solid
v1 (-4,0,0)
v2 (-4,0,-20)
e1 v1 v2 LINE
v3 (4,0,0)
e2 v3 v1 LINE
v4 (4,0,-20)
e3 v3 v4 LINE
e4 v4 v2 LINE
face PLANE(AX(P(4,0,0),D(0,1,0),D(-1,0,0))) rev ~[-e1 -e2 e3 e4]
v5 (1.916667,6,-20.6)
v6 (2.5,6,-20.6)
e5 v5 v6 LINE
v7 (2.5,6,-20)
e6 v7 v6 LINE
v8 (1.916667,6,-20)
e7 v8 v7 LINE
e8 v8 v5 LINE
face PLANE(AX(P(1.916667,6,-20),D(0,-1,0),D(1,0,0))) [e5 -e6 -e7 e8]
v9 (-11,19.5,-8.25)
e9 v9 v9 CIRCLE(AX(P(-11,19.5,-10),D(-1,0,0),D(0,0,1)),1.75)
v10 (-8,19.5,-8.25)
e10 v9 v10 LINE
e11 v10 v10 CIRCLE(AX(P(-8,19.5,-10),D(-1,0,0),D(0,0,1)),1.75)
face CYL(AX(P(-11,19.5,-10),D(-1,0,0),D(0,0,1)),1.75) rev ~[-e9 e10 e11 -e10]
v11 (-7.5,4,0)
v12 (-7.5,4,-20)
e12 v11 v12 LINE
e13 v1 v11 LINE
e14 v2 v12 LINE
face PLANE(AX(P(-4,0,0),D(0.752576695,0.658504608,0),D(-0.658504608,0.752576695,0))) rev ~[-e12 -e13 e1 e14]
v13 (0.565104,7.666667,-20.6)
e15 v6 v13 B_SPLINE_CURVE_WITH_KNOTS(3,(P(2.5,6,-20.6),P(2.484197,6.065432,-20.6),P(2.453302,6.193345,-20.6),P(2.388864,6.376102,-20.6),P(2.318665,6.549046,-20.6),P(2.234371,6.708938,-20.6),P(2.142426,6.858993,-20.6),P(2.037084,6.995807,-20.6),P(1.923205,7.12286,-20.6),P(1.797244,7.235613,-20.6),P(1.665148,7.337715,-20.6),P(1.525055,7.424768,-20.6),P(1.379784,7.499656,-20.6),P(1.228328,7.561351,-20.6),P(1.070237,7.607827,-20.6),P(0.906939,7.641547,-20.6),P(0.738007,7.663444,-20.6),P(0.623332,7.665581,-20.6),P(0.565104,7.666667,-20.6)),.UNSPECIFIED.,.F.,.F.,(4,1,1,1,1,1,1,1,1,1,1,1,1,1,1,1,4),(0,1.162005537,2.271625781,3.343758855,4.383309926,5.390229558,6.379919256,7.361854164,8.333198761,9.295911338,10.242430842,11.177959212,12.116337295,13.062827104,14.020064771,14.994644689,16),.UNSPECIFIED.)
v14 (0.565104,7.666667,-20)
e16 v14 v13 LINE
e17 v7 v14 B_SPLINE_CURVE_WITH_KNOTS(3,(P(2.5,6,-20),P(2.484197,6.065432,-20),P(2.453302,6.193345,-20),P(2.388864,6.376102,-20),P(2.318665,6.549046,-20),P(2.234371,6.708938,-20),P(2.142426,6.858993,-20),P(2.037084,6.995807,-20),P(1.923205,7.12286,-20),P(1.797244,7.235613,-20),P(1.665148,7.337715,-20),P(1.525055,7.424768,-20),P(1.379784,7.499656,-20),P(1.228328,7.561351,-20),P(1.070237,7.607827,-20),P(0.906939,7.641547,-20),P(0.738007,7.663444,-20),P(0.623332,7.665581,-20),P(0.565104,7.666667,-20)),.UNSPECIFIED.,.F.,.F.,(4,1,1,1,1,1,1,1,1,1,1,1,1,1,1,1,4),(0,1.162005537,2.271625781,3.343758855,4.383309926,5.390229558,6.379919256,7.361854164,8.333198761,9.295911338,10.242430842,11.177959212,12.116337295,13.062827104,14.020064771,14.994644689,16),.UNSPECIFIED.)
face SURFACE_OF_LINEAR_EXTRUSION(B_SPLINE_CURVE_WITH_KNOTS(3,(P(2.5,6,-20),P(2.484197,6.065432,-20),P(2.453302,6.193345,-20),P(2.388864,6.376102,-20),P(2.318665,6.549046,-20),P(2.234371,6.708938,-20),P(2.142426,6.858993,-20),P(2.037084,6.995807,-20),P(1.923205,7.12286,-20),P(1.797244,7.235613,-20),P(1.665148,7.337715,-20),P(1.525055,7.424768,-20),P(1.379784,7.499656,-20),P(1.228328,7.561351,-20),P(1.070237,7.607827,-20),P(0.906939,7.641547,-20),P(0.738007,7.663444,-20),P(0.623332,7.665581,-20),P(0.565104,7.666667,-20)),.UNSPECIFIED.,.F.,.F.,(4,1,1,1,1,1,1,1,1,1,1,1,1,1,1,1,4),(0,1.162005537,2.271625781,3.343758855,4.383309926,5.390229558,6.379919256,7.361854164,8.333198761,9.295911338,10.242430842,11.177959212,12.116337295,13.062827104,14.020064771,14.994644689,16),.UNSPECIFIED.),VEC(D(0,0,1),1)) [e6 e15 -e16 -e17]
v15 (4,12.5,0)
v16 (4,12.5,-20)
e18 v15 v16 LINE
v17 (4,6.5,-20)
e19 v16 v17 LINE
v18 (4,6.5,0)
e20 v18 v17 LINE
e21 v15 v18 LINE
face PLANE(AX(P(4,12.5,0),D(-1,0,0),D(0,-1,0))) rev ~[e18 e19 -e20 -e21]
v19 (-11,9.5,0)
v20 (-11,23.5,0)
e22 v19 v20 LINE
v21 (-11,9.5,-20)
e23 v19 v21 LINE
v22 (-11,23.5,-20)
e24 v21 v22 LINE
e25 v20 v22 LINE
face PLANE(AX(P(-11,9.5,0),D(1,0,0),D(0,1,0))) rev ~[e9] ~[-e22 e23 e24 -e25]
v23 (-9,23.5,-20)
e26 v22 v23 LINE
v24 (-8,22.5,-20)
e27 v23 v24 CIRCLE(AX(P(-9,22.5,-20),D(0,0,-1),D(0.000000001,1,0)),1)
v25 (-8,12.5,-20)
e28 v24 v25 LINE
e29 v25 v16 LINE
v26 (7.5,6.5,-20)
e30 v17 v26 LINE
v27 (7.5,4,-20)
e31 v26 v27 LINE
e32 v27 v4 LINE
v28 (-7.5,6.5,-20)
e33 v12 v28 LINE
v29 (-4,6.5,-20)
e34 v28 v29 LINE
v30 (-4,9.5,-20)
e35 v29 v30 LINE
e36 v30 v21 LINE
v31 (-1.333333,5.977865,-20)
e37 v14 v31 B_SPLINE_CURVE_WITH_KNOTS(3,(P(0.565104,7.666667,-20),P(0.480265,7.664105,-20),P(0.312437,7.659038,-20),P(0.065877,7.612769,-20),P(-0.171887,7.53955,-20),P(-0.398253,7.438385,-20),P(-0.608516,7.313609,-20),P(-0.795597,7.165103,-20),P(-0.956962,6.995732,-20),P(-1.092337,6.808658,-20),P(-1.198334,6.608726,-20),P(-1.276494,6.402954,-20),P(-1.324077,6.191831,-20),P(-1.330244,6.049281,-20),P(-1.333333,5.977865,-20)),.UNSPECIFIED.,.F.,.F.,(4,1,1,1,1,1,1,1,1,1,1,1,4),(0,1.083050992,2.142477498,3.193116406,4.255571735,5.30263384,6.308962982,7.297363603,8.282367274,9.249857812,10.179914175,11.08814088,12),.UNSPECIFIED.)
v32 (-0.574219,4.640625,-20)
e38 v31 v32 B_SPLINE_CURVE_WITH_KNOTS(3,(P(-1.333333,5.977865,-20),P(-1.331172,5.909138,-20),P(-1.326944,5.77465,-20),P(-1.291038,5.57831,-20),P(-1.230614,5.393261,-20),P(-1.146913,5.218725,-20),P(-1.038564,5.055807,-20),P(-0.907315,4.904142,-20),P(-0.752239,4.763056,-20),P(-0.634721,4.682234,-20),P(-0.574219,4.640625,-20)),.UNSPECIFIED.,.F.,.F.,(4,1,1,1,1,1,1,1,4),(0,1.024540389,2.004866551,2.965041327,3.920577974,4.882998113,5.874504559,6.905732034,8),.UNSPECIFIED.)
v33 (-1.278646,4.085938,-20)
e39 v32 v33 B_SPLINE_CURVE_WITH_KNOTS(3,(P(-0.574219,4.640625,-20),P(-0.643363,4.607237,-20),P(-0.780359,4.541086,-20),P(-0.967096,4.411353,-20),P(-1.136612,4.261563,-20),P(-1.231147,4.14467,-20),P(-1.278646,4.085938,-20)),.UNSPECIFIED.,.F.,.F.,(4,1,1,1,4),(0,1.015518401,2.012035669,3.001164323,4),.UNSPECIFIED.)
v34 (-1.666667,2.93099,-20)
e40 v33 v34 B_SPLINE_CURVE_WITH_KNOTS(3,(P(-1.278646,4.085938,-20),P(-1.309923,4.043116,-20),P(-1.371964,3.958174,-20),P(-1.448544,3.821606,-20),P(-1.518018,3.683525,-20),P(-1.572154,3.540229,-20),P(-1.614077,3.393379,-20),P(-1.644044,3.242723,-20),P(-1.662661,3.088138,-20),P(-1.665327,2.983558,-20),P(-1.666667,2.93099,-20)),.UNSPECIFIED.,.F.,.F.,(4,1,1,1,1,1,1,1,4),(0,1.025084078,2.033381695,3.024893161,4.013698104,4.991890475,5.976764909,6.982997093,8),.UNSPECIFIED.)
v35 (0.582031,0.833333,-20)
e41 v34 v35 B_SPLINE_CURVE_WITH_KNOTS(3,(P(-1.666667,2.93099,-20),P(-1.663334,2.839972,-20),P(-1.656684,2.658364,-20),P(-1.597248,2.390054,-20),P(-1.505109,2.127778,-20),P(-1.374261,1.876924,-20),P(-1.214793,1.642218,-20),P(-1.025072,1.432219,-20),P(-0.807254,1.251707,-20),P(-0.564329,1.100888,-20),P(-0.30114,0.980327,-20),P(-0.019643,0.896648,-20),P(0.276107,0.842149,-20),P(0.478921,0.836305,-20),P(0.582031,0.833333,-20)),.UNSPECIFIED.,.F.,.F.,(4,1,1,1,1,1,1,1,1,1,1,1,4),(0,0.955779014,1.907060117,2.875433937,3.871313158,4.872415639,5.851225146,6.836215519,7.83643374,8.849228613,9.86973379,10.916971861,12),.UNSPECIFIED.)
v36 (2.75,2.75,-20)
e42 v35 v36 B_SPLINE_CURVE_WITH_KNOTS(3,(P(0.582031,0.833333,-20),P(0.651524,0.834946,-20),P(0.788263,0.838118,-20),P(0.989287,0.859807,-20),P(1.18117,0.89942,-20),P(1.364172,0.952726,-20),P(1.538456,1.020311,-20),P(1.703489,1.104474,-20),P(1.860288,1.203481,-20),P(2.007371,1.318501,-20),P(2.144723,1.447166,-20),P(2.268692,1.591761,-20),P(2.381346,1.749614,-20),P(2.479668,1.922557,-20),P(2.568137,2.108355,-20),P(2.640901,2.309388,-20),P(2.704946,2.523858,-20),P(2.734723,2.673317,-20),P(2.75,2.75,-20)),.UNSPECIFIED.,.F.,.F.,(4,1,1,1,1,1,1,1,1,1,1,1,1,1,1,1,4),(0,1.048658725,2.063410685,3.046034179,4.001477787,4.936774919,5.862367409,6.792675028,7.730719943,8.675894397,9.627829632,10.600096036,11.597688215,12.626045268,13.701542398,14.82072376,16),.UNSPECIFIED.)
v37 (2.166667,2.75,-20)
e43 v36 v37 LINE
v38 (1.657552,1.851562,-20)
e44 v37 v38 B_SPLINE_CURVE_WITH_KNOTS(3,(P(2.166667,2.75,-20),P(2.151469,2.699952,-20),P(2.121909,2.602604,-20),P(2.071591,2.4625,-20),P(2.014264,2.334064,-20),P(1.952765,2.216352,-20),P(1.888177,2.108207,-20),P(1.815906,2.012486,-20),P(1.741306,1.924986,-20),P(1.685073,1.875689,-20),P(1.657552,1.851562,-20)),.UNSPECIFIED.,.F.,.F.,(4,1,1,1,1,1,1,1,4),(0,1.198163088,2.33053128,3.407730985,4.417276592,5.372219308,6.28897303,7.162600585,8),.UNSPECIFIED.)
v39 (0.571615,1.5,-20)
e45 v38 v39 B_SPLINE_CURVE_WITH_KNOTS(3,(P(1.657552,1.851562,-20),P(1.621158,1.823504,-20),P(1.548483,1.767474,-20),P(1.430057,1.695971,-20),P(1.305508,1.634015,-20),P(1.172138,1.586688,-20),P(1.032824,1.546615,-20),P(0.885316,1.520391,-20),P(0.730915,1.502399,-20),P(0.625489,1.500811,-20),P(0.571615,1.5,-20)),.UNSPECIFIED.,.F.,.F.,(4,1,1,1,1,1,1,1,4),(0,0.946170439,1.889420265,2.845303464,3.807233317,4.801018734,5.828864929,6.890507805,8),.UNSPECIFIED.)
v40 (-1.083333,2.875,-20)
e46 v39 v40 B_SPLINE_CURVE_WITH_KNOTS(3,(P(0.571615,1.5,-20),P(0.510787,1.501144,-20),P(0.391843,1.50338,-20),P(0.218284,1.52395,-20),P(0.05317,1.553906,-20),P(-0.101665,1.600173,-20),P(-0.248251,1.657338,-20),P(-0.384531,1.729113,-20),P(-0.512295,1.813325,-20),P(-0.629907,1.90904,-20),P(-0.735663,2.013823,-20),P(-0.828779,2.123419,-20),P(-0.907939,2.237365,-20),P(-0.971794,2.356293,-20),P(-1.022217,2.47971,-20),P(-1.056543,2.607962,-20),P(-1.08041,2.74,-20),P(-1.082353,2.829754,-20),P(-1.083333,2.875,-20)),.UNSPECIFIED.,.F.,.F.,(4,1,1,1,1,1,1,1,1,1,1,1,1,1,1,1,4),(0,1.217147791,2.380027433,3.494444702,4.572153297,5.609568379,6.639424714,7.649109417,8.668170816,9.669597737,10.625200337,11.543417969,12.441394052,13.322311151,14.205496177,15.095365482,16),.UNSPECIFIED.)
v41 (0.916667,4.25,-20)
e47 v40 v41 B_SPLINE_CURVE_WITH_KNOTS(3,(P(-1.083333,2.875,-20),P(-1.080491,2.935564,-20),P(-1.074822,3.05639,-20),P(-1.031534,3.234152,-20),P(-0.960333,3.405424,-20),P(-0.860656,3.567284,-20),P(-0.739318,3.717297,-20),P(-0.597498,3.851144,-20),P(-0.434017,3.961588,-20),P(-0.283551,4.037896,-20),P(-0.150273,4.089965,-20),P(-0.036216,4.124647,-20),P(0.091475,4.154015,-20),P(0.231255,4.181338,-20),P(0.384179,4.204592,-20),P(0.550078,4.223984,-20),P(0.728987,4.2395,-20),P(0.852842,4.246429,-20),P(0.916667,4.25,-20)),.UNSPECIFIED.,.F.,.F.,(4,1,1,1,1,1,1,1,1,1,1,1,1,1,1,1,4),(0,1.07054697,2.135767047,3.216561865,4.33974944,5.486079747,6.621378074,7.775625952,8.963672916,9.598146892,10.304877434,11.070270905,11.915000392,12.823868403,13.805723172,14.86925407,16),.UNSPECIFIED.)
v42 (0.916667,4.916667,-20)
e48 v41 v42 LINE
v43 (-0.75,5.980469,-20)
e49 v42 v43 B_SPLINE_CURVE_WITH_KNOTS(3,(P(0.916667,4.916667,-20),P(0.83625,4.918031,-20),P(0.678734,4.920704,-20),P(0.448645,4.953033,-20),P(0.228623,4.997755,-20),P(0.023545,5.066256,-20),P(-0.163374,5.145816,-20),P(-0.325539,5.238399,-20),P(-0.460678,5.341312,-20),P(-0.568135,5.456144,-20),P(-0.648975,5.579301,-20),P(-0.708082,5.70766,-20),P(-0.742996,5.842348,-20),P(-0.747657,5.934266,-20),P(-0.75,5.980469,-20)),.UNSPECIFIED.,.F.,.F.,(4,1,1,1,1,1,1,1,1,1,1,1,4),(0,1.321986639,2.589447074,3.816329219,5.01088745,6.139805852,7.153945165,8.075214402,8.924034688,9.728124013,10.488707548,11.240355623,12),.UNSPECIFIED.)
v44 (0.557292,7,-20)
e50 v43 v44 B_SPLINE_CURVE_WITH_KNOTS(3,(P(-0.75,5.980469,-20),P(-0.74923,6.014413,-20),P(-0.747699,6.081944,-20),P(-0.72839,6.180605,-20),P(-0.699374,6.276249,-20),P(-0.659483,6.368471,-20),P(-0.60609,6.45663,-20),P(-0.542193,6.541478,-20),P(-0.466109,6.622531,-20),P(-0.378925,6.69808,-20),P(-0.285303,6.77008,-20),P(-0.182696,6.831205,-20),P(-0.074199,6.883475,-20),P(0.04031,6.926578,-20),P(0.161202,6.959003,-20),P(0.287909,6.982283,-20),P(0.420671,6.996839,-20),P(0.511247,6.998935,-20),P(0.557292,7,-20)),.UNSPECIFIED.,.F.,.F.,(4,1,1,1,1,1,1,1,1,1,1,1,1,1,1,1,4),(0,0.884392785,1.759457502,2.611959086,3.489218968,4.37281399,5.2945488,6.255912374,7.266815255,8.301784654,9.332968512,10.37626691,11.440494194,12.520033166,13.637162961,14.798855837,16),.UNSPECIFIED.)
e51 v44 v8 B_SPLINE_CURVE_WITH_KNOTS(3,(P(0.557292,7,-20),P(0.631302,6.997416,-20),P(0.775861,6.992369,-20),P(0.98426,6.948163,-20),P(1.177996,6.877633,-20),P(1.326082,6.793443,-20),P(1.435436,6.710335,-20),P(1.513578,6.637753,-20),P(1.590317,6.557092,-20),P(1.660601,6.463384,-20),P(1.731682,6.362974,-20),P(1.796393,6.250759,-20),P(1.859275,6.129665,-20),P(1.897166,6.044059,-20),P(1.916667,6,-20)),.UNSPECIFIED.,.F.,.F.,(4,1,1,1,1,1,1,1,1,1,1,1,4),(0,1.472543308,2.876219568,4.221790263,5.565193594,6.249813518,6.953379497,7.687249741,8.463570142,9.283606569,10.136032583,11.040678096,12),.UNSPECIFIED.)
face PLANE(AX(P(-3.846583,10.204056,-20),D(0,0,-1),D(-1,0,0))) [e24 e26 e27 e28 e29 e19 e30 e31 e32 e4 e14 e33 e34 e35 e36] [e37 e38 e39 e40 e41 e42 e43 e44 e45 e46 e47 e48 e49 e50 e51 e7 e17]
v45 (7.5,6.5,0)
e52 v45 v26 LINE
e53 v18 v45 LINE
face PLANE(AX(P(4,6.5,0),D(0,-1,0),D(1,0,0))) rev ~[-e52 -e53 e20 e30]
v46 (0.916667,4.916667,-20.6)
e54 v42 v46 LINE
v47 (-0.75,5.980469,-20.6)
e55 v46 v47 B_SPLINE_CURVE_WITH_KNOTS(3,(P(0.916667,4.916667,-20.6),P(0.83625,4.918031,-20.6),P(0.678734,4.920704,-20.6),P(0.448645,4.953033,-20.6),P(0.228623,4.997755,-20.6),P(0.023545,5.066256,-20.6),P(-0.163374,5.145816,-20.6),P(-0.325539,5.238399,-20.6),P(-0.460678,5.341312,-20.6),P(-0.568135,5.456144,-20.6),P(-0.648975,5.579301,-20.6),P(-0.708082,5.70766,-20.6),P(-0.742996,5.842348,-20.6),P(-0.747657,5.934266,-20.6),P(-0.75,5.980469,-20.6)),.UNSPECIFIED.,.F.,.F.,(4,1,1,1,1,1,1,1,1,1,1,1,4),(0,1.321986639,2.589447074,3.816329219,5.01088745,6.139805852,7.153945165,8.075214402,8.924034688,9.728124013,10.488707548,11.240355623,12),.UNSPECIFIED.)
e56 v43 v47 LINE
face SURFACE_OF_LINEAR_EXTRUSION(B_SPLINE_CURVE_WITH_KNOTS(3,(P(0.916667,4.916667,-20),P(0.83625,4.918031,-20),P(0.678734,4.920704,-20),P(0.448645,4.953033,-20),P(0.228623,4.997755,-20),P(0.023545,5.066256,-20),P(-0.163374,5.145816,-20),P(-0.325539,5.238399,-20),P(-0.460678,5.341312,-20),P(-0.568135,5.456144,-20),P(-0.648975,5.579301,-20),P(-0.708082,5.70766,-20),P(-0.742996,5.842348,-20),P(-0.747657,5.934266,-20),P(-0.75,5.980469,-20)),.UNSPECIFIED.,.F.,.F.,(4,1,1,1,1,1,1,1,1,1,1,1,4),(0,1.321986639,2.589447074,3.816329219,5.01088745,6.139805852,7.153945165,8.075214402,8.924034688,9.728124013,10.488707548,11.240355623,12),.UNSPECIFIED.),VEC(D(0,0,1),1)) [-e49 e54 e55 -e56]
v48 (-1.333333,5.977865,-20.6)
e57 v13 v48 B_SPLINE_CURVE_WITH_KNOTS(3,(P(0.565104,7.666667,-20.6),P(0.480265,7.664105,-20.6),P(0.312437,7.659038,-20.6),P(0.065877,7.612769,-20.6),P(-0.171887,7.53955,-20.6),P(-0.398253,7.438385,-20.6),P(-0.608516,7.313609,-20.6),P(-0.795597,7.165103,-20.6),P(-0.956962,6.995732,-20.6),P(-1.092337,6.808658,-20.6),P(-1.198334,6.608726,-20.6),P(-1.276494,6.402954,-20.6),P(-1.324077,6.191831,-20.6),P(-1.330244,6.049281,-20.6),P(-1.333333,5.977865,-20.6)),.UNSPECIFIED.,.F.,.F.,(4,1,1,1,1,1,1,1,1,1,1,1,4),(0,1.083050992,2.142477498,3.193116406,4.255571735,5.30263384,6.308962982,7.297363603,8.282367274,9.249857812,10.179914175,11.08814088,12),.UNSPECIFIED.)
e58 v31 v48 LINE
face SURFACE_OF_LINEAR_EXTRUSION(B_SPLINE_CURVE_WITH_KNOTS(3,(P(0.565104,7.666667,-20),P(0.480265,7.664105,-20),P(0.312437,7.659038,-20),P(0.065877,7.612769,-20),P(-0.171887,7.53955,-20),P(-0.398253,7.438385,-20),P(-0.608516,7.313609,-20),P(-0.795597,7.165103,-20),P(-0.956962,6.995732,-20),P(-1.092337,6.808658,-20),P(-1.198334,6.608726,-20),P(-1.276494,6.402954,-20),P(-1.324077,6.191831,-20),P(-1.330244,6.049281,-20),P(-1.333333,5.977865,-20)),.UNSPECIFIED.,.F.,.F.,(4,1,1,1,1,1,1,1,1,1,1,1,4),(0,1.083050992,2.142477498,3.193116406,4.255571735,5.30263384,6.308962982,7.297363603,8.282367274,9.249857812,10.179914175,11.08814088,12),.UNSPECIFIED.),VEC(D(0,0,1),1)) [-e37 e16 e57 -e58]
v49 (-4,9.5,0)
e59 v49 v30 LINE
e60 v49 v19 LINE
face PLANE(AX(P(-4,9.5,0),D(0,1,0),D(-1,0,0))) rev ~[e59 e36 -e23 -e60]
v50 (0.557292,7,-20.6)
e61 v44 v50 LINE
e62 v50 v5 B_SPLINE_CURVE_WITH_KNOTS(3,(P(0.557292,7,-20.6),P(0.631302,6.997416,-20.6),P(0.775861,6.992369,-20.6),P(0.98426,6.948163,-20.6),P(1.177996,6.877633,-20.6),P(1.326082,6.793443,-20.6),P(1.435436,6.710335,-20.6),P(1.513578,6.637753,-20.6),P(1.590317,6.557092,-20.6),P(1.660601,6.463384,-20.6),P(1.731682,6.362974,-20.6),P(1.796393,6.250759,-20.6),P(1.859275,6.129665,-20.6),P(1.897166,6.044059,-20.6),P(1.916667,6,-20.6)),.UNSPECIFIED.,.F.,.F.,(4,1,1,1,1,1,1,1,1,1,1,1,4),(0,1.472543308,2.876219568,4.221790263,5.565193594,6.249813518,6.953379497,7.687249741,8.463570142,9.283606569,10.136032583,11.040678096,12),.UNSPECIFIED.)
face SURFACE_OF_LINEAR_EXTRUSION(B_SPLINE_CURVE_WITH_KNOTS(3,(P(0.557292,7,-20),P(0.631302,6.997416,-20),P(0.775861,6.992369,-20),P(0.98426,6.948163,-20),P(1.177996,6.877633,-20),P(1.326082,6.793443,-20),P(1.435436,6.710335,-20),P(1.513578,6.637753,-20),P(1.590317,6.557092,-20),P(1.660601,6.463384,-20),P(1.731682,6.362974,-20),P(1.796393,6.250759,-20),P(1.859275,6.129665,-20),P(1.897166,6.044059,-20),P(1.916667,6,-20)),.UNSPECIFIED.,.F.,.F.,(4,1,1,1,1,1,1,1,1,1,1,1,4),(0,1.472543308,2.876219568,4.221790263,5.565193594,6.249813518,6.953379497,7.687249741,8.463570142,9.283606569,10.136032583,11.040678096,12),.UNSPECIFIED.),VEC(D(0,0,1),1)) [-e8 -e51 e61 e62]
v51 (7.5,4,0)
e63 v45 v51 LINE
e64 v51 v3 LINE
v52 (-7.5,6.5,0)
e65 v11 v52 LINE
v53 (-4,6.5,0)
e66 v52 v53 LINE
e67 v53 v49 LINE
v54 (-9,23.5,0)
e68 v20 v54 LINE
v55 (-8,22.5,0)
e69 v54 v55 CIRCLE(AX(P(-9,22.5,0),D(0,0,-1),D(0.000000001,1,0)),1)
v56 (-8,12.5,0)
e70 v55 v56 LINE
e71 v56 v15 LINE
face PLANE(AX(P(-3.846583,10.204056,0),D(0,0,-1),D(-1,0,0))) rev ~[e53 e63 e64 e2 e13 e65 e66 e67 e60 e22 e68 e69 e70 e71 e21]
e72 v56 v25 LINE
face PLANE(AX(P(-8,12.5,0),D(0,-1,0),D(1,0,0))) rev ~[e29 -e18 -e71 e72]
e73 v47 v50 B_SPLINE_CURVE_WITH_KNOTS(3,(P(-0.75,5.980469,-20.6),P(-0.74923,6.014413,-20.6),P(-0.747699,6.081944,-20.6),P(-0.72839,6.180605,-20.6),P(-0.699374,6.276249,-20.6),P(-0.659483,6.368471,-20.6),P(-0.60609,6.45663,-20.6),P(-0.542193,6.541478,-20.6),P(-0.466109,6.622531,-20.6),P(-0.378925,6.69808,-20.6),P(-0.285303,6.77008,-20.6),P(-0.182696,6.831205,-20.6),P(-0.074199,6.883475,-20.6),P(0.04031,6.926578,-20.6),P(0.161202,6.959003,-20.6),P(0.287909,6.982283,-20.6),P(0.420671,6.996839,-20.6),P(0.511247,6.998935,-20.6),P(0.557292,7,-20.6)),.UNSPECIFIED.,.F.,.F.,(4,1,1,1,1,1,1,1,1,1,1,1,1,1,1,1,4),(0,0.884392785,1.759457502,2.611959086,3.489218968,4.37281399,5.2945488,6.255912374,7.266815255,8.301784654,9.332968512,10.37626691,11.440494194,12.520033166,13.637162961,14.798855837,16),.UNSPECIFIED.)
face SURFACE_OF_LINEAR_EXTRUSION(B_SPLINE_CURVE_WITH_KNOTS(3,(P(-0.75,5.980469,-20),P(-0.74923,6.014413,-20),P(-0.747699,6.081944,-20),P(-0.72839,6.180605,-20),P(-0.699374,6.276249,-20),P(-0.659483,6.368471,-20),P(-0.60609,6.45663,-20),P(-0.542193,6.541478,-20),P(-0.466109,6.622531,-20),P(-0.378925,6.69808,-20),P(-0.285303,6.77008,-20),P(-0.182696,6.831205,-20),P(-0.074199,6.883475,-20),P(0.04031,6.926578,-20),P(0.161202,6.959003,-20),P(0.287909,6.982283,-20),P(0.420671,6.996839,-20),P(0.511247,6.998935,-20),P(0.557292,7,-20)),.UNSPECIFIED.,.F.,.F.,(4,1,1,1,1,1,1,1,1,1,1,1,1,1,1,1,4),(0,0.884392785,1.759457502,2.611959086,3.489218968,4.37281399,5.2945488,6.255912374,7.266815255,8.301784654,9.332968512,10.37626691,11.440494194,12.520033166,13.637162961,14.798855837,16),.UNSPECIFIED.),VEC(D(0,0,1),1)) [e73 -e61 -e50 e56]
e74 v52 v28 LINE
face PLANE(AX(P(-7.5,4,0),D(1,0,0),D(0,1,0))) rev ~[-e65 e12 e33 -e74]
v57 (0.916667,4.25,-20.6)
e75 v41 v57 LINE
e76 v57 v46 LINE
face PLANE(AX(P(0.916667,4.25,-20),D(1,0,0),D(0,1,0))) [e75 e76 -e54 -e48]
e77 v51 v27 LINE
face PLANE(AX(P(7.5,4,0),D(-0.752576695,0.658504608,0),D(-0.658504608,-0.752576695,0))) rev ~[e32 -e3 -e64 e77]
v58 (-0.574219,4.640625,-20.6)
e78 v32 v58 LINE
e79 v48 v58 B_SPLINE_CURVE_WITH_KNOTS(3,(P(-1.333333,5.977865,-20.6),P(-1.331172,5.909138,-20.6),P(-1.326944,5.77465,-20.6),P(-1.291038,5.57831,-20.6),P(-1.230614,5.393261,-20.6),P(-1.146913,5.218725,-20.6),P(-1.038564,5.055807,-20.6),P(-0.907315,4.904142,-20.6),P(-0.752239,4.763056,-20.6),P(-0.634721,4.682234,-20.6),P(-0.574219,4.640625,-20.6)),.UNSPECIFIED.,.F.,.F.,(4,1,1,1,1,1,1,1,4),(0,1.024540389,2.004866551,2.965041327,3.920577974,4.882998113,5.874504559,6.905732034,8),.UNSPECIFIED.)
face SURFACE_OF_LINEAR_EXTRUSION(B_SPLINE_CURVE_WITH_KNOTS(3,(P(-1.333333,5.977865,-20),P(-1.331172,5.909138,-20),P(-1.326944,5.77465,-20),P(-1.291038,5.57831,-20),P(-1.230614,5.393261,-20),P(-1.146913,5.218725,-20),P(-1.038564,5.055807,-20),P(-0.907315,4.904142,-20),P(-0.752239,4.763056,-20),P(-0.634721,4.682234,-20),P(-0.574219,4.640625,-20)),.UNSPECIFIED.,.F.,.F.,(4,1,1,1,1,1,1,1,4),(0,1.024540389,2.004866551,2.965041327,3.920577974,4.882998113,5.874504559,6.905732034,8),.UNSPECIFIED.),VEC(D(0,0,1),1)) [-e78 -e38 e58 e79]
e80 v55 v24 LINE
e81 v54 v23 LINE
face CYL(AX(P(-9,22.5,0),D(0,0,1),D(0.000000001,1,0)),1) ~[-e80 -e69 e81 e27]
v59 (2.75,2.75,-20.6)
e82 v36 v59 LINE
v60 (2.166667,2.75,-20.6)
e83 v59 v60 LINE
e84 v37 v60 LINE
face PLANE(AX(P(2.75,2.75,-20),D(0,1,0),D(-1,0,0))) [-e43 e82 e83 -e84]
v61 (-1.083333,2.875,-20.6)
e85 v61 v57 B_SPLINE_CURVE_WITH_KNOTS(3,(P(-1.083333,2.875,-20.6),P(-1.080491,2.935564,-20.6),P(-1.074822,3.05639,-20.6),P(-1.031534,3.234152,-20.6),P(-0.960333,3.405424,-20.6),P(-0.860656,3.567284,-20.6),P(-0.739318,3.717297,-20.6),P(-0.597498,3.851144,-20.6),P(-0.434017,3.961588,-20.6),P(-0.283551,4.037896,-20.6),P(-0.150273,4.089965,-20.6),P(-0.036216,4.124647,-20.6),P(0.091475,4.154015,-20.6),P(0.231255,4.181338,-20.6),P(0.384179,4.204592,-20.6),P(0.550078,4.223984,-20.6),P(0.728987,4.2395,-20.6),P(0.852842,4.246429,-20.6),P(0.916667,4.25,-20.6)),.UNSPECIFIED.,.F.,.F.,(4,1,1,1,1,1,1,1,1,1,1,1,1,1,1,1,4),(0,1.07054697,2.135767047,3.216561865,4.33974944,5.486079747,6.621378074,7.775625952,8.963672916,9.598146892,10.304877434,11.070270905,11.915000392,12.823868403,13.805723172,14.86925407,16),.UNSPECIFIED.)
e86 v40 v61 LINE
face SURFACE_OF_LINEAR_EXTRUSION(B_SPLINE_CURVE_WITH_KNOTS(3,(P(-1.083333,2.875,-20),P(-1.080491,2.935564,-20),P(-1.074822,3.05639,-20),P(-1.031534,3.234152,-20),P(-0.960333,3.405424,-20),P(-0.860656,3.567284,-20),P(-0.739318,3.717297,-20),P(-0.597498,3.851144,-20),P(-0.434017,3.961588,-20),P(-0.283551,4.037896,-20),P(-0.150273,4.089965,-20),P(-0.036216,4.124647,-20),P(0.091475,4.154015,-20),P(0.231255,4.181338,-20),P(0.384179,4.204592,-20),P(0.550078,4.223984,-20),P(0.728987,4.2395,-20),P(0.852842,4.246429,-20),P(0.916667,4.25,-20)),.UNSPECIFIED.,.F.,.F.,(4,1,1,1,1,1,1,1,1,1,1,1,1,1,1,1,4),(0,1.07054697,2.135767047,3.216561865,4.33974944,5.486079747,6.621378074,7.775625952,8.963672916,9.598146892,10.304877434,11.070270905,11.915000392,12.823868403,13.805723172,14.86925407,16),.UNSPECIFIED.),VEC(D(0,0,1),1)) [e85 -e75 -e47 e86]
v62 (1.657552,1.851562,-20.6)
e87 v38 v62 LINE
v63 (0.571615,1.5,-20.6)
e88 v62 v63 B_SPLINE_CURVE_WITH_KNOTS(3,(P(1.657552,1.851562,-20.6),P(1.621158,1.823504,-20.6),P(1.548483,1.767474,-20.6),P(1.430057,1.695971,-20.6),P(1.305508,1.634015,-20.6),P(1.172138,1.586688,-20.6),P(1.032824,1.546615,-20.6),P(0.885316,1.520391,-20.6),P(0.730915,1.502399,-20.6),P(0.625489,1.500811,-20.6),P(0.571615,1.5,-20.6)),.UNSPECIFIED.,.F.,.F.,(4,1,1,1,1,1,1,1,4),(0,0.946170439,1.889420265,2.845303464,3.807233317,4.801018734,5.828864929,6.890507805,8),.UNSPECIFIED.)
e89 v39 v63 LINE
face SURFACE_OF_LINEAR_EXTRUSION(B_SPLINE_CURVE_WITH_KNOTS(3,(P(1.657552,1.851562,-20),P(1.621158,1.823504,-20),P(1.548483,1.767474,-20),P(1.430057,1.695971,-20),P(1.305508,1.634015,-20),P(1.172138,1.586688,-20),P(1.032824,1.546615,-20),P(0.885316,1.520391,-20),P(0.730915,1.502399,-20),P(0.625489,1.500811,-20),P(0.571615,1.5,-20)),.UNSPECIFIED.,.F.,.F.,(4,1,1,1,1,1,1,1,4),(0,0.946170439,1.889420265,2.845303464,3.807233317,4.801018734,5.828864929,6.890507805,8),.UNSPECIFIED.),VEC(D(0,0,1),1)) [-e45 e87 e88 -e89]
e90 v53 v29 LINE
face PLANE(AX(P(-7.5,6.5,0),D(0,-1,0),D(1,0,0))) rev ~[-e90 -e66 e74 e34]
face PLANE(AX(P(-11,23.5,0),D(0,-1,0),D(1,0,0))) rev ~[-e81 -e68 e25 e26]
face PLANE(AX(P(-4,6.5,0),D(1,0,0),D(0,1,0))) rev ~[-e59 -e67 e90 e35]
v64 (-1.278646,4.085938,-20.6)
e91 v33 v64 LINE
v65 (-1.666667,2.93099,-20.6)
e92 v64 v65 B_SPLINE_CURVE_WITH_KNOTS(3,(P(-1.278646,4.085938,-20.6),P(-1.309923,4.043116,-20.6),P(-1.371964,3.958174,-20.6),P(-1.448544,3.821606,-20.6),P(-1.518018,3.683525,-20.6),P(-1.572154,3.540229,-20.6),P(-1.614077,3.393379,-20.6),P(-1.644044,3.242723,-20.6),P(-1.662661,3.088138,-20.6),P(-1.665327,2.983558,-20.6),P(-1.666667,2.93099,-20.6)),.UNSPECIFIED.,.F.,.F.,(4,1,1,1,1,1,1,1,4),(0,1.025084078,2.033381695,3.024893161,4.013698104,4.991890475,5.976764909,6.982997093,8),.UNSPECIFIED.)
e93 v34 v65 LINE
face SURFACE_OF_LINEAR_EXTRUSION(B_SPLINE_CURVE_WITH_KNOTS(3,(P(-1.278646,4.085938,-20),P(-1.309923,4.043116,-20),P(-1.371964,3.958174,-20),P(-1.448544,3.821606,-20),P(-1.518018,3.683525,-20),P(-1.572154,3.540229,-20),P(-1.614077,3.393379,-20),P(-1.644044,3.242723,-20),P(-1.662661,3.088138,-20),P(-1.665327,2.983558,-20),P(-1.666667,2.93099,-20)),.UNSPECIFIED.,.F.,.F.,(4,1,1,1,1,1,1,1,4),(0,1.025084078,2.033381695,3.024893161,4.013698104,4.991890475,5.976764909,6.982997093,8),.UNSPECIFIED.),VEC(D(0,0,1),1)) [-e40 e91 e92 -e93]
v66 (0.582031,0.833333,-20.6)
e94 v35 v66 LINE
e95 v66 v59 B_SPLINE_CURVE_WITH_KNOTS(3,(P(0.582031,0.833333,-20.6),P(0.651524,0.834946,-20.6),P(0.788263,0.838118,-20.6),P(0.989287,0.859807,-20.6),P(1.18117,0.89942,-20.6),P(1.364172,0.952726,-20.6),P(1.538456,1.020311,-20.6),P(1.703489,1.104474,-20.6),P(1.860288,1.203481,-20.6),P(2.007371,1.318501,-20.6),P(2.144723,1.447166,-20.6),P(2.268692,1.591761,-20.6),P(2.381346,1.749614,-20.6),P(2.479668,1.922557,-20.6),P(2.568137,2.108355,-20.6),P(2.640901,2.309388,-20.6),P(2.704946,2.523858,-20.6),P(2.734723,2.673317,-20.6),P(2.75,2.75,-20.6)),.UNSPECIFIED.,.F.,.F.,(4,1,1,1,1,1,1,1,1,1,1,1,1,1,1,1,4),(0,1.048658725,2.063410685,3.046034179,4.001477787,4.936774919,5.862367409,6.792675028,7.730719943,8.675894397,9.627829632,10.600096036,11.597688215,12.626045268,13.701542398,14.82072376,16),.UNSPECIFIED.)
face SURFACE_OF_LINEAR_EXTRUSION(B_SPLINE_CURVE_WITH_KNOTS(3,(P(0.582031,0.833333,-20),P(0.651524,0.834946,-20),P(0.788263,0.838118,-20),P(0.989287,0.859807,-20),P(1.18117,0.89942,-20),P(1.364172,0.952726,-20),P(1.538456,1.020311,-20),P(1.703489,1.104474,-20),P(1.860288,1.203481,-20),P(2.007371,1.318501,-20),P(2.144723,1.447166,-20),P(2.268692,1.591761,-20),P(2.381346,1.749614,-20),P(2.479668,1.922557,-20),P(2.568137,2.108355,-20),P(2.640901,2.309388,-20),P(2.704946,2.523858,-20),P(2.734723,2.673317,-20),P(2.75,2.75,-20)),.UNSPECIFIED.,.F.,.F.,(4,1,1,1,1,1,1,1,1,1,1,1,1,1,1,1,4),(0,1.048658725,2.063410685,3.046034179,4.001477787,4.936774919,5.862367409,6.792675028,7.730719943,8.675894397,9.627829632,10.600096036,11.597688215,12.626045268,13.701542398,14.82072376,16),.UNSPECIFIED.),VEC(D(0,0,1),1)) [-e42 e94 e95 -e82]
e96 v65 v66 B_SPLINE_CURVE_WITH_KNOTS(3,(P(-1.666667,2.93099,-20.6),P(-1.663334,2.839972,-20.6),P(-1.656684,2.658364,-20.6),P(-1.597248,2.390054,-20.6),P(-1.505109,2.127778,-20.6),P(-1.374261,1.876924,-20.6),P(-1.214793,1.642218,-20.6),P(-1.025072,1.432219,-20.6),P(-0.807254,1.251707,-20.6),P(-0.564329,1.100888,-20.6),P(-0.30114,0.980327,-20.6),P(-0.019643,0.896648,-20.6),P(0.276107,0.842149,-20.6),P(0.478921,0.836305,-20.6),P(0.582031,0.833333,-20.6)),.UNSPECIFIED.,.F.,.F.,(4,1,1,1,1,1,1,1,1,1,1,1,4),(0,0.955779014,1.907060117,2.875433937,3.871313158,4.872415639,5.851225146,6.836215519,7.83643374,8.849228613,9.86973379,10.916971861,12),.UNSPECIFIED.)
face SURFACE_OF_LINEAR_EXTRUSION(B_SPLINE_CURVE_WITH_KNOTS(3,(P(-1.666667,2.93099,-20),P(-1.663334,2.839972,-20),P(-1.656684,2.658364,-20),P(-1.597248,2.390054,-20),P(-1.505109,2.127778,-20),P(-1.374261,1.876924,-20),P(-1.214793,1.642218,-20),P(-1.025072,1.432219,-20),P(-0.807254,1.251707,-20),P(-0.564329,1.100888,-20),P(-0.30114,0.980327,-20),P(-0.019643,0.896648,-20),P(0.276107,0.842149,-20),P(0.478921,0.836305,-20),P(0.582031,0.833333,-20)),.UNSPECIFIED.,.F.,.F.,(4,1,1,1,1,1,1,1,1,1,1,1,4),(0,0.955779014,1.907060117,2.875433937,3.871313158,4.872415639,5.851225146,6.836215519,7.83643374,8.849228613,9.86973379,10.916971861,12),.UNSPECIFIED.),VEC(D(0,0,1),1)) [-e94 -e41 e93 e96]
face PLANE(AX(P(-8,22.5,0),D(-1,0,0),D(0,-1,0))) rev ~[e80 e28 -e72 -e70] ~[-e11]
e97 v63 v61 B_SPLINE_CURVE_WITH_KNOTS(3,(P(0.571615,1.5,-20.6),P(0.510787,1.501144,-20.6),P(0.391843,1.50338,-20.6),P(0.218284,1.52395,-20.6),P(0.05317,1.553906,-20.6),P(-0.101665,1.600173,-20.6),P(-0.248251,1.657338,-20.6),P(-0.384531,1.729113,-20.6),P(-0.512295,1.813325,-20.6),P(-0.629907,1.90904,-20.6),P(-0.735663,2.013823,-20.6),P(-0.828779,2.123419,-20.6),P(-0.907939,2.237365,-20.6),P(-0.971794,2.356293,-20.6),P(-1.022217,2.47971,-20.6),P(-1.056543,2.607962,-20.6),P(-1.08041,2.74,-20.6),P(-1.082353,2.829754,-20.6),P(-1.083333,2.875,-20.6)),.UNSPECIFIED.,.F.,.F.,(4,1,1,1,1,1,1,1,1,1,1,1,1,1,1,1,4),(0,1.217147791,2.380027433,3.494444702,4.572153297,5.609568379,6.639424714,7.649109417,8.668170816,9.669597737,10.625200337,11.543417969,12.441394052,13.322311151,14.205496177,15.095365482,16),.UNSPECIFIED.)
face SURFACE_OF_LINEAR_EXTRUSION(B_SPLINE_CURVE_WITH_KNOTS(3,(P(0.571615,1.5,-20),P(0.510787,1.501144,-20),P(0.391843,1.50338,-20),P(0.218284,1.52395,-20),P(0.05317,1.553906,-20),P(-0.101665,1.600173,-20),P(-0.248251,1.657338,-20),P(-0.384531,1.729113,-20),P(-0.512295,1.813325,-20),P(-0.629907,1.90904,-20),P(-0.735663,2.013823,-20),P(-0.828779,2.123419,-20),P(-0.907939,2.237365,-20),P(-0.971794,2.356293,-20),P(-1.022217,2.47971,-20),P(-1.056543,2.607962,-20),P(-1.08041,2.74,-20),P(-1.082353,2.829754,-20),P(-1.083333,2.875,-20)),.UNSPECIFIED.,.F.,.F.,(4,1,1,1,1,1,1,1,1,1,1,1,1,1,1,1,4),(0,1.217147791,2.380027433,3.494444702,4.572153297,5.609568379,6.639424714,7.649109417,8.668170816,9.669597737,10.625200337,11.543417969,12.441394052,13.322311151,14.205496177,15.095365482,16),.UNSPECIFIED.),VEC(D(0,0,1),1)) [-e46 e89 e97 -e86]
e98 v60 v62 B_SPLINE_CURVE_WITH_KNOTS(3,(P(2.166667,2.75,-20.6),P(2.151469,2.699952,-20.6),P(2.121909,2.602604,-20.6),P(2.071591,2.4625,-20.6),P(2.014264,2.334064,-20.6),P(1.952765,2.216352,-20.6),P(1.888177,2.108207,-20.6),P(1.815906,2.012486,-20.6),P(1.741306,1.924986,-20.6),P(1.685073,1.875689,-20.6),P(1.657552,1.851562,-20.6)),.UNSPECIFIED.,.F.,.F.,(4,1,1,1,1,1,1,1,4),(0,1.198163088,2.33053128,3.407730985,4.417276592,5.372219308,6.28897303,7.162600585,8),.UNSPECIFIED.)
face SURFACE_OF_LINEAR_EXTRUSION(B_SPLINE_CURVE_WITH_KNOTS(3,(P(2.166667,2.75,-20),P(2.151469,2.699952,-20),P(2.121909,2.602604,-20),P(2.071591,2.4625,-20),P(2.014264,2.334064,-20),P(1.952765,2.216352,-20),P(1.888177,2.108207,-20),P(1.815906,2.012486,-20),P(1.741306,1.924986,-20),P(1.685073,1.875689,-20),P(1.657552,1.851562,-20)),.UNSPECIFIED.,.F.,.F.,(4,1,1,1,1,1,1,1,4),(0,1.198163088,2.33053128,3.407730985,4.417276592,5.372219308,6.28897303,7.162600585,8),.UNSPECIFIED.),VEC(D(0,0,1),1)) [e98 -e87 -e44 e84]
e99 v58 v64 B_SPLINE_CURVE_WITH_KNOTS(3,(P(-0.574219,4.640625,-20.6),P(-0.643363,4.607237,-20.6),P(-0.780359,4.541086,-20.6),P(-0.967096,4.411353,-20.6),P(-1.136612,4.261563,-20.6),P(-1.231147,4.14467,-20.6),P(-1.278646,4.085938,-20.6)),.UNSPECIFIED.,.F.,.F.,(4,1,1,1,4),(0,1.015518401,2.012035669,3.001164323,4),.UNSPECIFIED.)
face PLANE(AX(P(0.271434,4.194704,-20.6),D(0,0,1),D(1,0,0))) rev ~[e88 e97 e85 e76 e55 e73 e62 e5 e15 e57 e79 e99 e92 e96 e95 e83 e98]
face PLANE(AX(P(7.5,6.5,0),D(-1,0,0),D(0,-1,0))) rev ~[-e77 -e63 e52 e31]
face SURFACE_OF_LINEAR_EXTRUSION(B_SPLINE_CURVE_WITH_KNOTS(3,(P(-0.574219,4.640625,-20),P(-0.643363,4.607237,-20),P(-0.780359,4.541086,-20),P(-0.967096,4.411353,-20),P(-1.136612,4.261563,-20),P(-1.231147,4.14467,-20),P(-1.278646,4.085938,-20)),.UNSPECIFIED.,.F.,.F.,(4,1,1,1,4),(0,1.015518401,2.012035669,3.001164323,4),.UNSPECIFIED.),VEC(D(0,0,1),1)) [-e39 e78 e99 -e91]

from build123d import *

# Parameters (mm, degrees)
ESTRUSIONE_ESTRUSIONE1_DEPTH = 20
TAGLIO_ESTRUSIONE1_REACH     = 37.979
SCHIZZO6_R                   = 1.75
ESTRUSIONE_ESTRUSIONE4_DEPTH = 0.6


with BuildPart() as part:
    # Schizzo2 → Estrusione-Estrusione1 (new body)
    with BuildSketch(Plane.XY):
        with BuildLine():
            Line((-4, 9.5), (-11, 9.5))
            Line((-11, 9.5), (-11, 23.5))
            Line((-11, 23.5), (-9, 23.5))
            ThreePointArc((-9, 23.5), (-8.292893219, 23.207106781), (-8, 22.5))
            Line((-8, 22.5), (-8, 12.5))
            Line((-8, 12.5), (4, 12.5))
            Line((4, 12.5), (4, 9.5))
            Line((4, 9.5), (4, 6.5))
            Line((4, 6.5), (7.5, 6.5))
            Line((7.5, 6.5), (7.5, 4))
            Line((7.5, 4), (4, 0))
            Line((4, 0), (-4, 0))
            Line((-4, 0), (-7.5, 4))
            Line((-7.5, 4), (-7.5, 6.5))
            Line((-7.5, 6.5), (-4, 6.5))
            Line((-4, 6.5), (-4, 9.5))
        make_face()
    extrude(amount=-ESTRUSIONE_ESTRUSIONE1_DEPTH)

    # Schizzo6 → Taglio-Estrusione1 (cut, up to next)
    with BuildSketch(Plane.ZY.offset(11), mode=Mode.PRIVATE) as taglio_estrusione1_sk1:
        with Locations((-10, 19.5)):
            Circle(SCHIZZO6_R)
    taglio_estrusione1_tool1 = extrude(taglio_estrusione1_sk1.sketch, amount=-TAGLIO_ESTRUSIONE1_REACH, mode=Mode.PRIVATE) & part.part
    add(taglio_estrusione1_tool1.solids().sort_by_distance((-11, 19.5, -10))[0], mode=Mode.SUBTRACT)

    # Schizzo11 → Estrusione-Estrusione4 (add)
    with BuildSketch(Plane(origin=(0, 0, -20), x_dir=(-1, 0, 0), z_dir=(0, 0, -1))):
        with BuildLine():
            Line((-1.916666667, 6), (-2.5, 6))
            add(Edge.make_bspline(
                [(-2.5, 6), (-2.484196549, 6.065431756), (-2.453302094, 6.193345487), (-2.388863743, 6.376101829), (-2.318665127, 6.549045511), (-2.234371075, 6.708938219), (-2.142426246, 6.858993324), (-2.037084049, 6.995807413), (-1.923204564, 7.122860063), (-1.797243944, 7.235613218), (-1.665147858, 7.337714716), (-1.525054993, 7.424768393), (-1.379783905, 7.499656106), (-1.228328086, 7.561350822), (-1.070236625, 7.607826795), (-0.906938753, 7.641546577), (-0.738006538, 7.66344436), (-0.623332441, 7.665581492), (-0.565104167, 7.666666667)],
                knots=[0, 0, 0, 0, 1.162005537, 2.271625781, 3.343758855, 4.383309926, 5.390229558, 6.379919256, 7.361854164, 8.333198761, 9.295911338, 10.242430842, 11.177959212, 12.116337295, 13.062827104, 14.020064771, 14.994644689, 16, 16, 16, 16], degree=3))
            add(Edge.make_bspline(
                [(-0.565104167, 7.666666667), (-0.480264789, 7.664105239), (-0.312436625, 7.659038256), (-0.065876681, 7.612768588), (0.171887412, 7.539550485), (0.398253158, 7.438384992), (0.608515961, 7.313608553), (0.795597451, 7.165102613), (0.956961828, 6.995732482), (1.092337101, 6.80865772), (1.198333527, 6.608726059), (1.276493935, 6.402954339), (1.324077057, 6.191830678), (1.330243806, 6.049281445), (1.333333333, 5.977864583)],
                knots=[0, 0, 0, 0, 1.083050992, 2.142477498, 3.193116406, 4.255571735, 5.30263384, 6.308962982, 7.297363603, 8.282367274, 9.249857812, 10.179914175, 11.08814088, 12, 12, 12, 12], degree=3))
            add(Edge.make_bspline(
                [(1.333333333, 5.977864583), (1.331172379, 5.909137679), (1.326943725, 5.774649792), (1.291038272, 5.578309869), (1.230613784, 5.393261183), (1.146912796, 5.218724739), (1.038564203, 5.055807179), (0.907314909, 4.904141953), (0.752238537, 4.763056374), (0.634720509, 4.682234495), (0.57421875, 4.640625)],
                knots=[0, 0, 0, 0, 1.024540389, 2.004866551, 2.965041327, 3.920577974, 4.882998113, 5.874504559, 6.905732034, 8, 8, 8, 8], degree=3))
            add(Edge.make_bspline(
                [(0.57421875, 4.640625), (0.643363437, 4.607236967), (0.780359061, 4.541085617), (0.967095758, 4.411353496), (1.136611813, 4.261563137), (1.231147291, 4.144669639), (1.278645833, 4.0859375)],
                knots=[0, 0, 0, 0, 1.015518401, 2.012035669, 3.001164323, 4, 4, 4, 4], degree=3))
            add(Edge.make_bspline(
                [(1.278645833, 4.0859375), (1.309922612, 4.043115961), (1.37196399, 3.958174116), (1.448544267, 3.821606468), (1.518018337, 3.683525131), (1.572154458, 3.540229091), (1.614077354, 3.393379209), (1.644044271, 3.24272333), (1.662660533, 3.088138431), (1.665326558, 2.983558111), (1.666666667, 2.930989583)],
                knots=[0, 0, 0, 0, 1.025084078, 2.033381695, 3.024893161, 4.013698104, 4.991890475, 5.976764909, 6.982997093, 8, 8, 8, 8], degree=3))
            add(Edge.make_bspline(
                [(1.666666667, 2.930989583), (1.663333999, 2.83997153), (1.656684346, 2.658363755), (1.597248208, 2.390053558), (1.505109333, 2.127777625), (1.374260737, 1.876924352), (1.214792507, 1.64221793), (1.025071762, 1.43221907), (0.807254146, 1.251707377), (0.56432937, 1.100888382), (0.301140417, 0.980326526), (0.019642889, 0.896648418), (-0.276107211, 0.842148704), (-0.478920764, 0.836304519), (-0.58203125, 0.833333333)],
                knots=[0, 0, 0, 0, 0.955779014, 1.907060117, 2.875433937, 3.871313158, 4.872415639, 5.851225146, 6.836215519, 7.83643374, 8.849228613, 9.86973379, 10.916971861, 12, 12, 12, 12], degree=3))
            add(Edge.make_bspline(
                [(-0.58203125, 0.833333333), (-0.651524236, 0.834945729), (-0.78826326, 0.838118387), (-0.9892869, 0.859807218), (-1.181170056, 0.899420085), (-1.364172166, 0.952726223), (-1.538455805, 1.020310887), (-1.703489143, 1.104474184), (-1.860287517, 1.203481259), (-2.007371283, 1.318500779), (-2.144722909, 1.447166124), (-2.268692254, 1.591761428), (-2.381346155, 1.74961375), (-2.479668199, 1.922556569), (-2.568136825, 2.108354904), (-2.640901459, 2.309387829), (-2.704946086, 2.523858156), (-2.73472252, 2.673316816), (-2.75, 2.75)],
                knots=[0, 0, 0, 0, 1.048658725, 2.063410685, 3.046034179, 4.001477787, 4.936774919, 5.862367409, 6.792675028, 7.730719943, 8.675894397, 9.627829632, 10.600096036, 11.597688215, 12.626045268, 13.701542398, 14.82072376, 16, 16, 16, 16], degree=3))
            Line((-2.75, 2.75), (-2.166666667, 2.75))
            add(Edge.make_bspline(
                [(-2.166666667, 2.75), (-2.151469125, 2.699951833), (-2.121908588, 2.602603799), (-2.071590606, 2.462500375), (-2.014263815, 2.33406399), (-1.952765349, 2.216352478), (-1.888176806, 2.108206588), (-1.815906231, 2.012485974), (-1.74130639, 1.924986312), (-1.685073305, 1.875689176), (-1.657552083, 1.8515625)],
                knots=[0, 0, 0, 0, 1.198163088, 2.33053128, 3.407730985, 4.417276592, 5.372219308, 6.28897303, 7.162600585, 8, 8, 8, 8], degree=3))
            add(Edge.make_bspline(
                [(-1.657552083, 1.8515625), (-1.621158441, 1.823504166), (-1.548483496, 1.767474107), (-1.430056781, 1.695971082), (-1.305507707, 1.634014892), (-1.172137598, 1.586688029), (-1.032824452, 1.54661523), (-0.885316488, 1.520391409), (-0.730915085, 1.502399091), (-0.625489239, 1.500811361), (-0.571614583, 1.5)],
                knots=[0, 0, 0, 0, 0.946170439, 1.889420265, 2.845303464, 3.807233317, 4.801018734, 5.828864929, 6.890507805, 8, 8, 8, 8], degree=3))
            add(Edge.make_bspline(
                [(-0.571614583, 1.5), (-0.51078665, 1.501143824), (-0.391842877, 1.503380473), (-0.218283853, 1.523949643), (-0.053170021, 1.553906125), (0.101665412, 1.600173093), (0.24825064, 1.657337532), (0.384530847, 1.729113142), (0.512295044, 1.813324768), (0.629906797, 1.909040348), (0.735662739, 2.013823125), (0.828778978, 2.123418828), (0.907939064, 2.237365369), (0.97179428, 2.356293307), (1.022216731, 2.479710161), (1.056542675, 2.607962273), (1.080409774, 2.740000053), (1.082353483, 2.829753852), (1.083333333, 2.875)],
                knots=[0, 0, 0, 0, 1.217147791, 2.380027433, 3.494444702, 4.572153297, 5.609568379, 6.639424714, 7.649109417, 8.668170816, 9.669597737, 10.625200337, 11.543417969, 12.441394052, 13.322311151, 14.205496177, 15.095365482, 16, 16, 16, 16], degree=3))
            add(Edge.make_bspline(
                [(1.083333333, 2.875), (1.080491345, 2.935563915), (1.074821509, 3.056390388), (1.031534147, 3.234151597), (0.960333399, 3.405423649), (0.860655878, 3.567284402), (0.739318097, 3.71729679), (0.597497555, 3.851143829), (0.43401656, 3.961588284), (0.283551089, 4.037895789), (0.150272941, 4.089964642), (0.036215798, 4.124646719), (-0.091475036, 4.154014937), (-0.231255399, 4.181337727), (-0.384178515, 4.204591659), (-0.5500779, 4.223983603), (-0.728987171, 4.239500107), (-0.852842194, 4.246429284), (-0.916666667, 4.25)],
                knots=[0, 0, 0, 0, 1.07054697, 2.135767047, 3.216561865, 4.33974944, 5.486079747, 6.621378074, 7.775625952, 8.963672916, 9.598146892, 10.304877434, 11.070270905, 11.915000392, 12.823868403, 13.805723172, 14.86925407, 16, 16, 16, 16], degree=3))
            Line((-0.916666667, 4.25), (-0.916666667, 4.916666667))
            add(Edge.make_bspline(
                [(-0.916666667, 4.916666667), (-0.836250216, 4.918031302), (-0.678734144, 4.920704288), (-0.448644721, 4.95303345), (-0.228622855, 4.997754616), (-0.02354462, 5.066255688), (0.163374419, 5.145816239), (0.325539394, 5.238398914), (0.460678382, 5.34131202), (0.568134658, 5.456144008), (0.648974654, 5.579300525), (0.708081563, 5.707660032), (0.742996455, 5.842347574), (0.747657265, 5.934266243), (0.75, 5.98046875)],
                knots=[0, 0, 0, 0, 1.321986639, 2.589447074, 3.816329219, 5.01088745, 6.139805852, 7.153945165, 8.075214402, 8.924034688, 9.728124013, 10.488707548, 11.240355623, 12, 12, 12, 12], degree=3))
            add(Edge.make_bspline(
                [(0.75, 5.98046875), (0.74923038, 6.014413134), (0.747699256, 6.081943876), (0.728390026, 6.180604717), (0.69937395, 6.276249331), (0.659483024, 6.368470979), (0.606089798, 6.456630059), (0.542192966, 6.541478178), (0.466109351, 6.622530911), (0.37892495, 6.698080076), (0.285303026, 6.770080088), (0.182696301, 6.831205413), (0.074198534, 6.883474814), (-0.040310397, 6.926578176), (-0.161202096, 6.959002568), (-0.28790856, 6.982283416), (-0.420671401, 6.996839061), (-0.511247475, 6.99893469), (-0.557291667, 7)],
                knots=[0, 0, 0, 0, 0.884392785, 1.759457502, 2.611959086, 3.489218968, 4.37281399, 5.2945488, 6.255912374, 7.266815255, 8.301784654, 9.332968512, 10.37626691, 11.440494194, 12.520033166, 13.637162961, 14.798855837, 16, 16, 16, 16], degree=3))
            add(Edge.make_bspline(
                [(-0.557291667, 7), (-0.631301907, 6.997416042), (-0.775861121, 6.992368971), (-0.984260252, 6.948163375), (-1.177996158, 6.877632648), (-1.326082253, 6.793442755), (-1.435435605, 6.710334806), (-1.51357849, 6.637753232), (-1.590316581, 6.557092273), (-1.660601409, 6.463383862), (-1.731681652, 6.362974109), (-1.79639298, 6.2507587), (-1.859275266, 6.129664825), (-1.897165715, 6.044058647), (-1.916666667, 6)],
                knots=[0, 0, 0, 0, 1.472543308, 2.876219568, 4.221790263, 5.565193594, 6.249813518, 6.953379497, 7.687249741, 8.463570142, 9.283606569, 10.136032583, 11.040678096, 12, 12, 12, 12], degree=3))
        make_face()
    extrude(amount=ESTRUSIONE_ESTRUSIONE4_DEPTH)


solid = part.part
